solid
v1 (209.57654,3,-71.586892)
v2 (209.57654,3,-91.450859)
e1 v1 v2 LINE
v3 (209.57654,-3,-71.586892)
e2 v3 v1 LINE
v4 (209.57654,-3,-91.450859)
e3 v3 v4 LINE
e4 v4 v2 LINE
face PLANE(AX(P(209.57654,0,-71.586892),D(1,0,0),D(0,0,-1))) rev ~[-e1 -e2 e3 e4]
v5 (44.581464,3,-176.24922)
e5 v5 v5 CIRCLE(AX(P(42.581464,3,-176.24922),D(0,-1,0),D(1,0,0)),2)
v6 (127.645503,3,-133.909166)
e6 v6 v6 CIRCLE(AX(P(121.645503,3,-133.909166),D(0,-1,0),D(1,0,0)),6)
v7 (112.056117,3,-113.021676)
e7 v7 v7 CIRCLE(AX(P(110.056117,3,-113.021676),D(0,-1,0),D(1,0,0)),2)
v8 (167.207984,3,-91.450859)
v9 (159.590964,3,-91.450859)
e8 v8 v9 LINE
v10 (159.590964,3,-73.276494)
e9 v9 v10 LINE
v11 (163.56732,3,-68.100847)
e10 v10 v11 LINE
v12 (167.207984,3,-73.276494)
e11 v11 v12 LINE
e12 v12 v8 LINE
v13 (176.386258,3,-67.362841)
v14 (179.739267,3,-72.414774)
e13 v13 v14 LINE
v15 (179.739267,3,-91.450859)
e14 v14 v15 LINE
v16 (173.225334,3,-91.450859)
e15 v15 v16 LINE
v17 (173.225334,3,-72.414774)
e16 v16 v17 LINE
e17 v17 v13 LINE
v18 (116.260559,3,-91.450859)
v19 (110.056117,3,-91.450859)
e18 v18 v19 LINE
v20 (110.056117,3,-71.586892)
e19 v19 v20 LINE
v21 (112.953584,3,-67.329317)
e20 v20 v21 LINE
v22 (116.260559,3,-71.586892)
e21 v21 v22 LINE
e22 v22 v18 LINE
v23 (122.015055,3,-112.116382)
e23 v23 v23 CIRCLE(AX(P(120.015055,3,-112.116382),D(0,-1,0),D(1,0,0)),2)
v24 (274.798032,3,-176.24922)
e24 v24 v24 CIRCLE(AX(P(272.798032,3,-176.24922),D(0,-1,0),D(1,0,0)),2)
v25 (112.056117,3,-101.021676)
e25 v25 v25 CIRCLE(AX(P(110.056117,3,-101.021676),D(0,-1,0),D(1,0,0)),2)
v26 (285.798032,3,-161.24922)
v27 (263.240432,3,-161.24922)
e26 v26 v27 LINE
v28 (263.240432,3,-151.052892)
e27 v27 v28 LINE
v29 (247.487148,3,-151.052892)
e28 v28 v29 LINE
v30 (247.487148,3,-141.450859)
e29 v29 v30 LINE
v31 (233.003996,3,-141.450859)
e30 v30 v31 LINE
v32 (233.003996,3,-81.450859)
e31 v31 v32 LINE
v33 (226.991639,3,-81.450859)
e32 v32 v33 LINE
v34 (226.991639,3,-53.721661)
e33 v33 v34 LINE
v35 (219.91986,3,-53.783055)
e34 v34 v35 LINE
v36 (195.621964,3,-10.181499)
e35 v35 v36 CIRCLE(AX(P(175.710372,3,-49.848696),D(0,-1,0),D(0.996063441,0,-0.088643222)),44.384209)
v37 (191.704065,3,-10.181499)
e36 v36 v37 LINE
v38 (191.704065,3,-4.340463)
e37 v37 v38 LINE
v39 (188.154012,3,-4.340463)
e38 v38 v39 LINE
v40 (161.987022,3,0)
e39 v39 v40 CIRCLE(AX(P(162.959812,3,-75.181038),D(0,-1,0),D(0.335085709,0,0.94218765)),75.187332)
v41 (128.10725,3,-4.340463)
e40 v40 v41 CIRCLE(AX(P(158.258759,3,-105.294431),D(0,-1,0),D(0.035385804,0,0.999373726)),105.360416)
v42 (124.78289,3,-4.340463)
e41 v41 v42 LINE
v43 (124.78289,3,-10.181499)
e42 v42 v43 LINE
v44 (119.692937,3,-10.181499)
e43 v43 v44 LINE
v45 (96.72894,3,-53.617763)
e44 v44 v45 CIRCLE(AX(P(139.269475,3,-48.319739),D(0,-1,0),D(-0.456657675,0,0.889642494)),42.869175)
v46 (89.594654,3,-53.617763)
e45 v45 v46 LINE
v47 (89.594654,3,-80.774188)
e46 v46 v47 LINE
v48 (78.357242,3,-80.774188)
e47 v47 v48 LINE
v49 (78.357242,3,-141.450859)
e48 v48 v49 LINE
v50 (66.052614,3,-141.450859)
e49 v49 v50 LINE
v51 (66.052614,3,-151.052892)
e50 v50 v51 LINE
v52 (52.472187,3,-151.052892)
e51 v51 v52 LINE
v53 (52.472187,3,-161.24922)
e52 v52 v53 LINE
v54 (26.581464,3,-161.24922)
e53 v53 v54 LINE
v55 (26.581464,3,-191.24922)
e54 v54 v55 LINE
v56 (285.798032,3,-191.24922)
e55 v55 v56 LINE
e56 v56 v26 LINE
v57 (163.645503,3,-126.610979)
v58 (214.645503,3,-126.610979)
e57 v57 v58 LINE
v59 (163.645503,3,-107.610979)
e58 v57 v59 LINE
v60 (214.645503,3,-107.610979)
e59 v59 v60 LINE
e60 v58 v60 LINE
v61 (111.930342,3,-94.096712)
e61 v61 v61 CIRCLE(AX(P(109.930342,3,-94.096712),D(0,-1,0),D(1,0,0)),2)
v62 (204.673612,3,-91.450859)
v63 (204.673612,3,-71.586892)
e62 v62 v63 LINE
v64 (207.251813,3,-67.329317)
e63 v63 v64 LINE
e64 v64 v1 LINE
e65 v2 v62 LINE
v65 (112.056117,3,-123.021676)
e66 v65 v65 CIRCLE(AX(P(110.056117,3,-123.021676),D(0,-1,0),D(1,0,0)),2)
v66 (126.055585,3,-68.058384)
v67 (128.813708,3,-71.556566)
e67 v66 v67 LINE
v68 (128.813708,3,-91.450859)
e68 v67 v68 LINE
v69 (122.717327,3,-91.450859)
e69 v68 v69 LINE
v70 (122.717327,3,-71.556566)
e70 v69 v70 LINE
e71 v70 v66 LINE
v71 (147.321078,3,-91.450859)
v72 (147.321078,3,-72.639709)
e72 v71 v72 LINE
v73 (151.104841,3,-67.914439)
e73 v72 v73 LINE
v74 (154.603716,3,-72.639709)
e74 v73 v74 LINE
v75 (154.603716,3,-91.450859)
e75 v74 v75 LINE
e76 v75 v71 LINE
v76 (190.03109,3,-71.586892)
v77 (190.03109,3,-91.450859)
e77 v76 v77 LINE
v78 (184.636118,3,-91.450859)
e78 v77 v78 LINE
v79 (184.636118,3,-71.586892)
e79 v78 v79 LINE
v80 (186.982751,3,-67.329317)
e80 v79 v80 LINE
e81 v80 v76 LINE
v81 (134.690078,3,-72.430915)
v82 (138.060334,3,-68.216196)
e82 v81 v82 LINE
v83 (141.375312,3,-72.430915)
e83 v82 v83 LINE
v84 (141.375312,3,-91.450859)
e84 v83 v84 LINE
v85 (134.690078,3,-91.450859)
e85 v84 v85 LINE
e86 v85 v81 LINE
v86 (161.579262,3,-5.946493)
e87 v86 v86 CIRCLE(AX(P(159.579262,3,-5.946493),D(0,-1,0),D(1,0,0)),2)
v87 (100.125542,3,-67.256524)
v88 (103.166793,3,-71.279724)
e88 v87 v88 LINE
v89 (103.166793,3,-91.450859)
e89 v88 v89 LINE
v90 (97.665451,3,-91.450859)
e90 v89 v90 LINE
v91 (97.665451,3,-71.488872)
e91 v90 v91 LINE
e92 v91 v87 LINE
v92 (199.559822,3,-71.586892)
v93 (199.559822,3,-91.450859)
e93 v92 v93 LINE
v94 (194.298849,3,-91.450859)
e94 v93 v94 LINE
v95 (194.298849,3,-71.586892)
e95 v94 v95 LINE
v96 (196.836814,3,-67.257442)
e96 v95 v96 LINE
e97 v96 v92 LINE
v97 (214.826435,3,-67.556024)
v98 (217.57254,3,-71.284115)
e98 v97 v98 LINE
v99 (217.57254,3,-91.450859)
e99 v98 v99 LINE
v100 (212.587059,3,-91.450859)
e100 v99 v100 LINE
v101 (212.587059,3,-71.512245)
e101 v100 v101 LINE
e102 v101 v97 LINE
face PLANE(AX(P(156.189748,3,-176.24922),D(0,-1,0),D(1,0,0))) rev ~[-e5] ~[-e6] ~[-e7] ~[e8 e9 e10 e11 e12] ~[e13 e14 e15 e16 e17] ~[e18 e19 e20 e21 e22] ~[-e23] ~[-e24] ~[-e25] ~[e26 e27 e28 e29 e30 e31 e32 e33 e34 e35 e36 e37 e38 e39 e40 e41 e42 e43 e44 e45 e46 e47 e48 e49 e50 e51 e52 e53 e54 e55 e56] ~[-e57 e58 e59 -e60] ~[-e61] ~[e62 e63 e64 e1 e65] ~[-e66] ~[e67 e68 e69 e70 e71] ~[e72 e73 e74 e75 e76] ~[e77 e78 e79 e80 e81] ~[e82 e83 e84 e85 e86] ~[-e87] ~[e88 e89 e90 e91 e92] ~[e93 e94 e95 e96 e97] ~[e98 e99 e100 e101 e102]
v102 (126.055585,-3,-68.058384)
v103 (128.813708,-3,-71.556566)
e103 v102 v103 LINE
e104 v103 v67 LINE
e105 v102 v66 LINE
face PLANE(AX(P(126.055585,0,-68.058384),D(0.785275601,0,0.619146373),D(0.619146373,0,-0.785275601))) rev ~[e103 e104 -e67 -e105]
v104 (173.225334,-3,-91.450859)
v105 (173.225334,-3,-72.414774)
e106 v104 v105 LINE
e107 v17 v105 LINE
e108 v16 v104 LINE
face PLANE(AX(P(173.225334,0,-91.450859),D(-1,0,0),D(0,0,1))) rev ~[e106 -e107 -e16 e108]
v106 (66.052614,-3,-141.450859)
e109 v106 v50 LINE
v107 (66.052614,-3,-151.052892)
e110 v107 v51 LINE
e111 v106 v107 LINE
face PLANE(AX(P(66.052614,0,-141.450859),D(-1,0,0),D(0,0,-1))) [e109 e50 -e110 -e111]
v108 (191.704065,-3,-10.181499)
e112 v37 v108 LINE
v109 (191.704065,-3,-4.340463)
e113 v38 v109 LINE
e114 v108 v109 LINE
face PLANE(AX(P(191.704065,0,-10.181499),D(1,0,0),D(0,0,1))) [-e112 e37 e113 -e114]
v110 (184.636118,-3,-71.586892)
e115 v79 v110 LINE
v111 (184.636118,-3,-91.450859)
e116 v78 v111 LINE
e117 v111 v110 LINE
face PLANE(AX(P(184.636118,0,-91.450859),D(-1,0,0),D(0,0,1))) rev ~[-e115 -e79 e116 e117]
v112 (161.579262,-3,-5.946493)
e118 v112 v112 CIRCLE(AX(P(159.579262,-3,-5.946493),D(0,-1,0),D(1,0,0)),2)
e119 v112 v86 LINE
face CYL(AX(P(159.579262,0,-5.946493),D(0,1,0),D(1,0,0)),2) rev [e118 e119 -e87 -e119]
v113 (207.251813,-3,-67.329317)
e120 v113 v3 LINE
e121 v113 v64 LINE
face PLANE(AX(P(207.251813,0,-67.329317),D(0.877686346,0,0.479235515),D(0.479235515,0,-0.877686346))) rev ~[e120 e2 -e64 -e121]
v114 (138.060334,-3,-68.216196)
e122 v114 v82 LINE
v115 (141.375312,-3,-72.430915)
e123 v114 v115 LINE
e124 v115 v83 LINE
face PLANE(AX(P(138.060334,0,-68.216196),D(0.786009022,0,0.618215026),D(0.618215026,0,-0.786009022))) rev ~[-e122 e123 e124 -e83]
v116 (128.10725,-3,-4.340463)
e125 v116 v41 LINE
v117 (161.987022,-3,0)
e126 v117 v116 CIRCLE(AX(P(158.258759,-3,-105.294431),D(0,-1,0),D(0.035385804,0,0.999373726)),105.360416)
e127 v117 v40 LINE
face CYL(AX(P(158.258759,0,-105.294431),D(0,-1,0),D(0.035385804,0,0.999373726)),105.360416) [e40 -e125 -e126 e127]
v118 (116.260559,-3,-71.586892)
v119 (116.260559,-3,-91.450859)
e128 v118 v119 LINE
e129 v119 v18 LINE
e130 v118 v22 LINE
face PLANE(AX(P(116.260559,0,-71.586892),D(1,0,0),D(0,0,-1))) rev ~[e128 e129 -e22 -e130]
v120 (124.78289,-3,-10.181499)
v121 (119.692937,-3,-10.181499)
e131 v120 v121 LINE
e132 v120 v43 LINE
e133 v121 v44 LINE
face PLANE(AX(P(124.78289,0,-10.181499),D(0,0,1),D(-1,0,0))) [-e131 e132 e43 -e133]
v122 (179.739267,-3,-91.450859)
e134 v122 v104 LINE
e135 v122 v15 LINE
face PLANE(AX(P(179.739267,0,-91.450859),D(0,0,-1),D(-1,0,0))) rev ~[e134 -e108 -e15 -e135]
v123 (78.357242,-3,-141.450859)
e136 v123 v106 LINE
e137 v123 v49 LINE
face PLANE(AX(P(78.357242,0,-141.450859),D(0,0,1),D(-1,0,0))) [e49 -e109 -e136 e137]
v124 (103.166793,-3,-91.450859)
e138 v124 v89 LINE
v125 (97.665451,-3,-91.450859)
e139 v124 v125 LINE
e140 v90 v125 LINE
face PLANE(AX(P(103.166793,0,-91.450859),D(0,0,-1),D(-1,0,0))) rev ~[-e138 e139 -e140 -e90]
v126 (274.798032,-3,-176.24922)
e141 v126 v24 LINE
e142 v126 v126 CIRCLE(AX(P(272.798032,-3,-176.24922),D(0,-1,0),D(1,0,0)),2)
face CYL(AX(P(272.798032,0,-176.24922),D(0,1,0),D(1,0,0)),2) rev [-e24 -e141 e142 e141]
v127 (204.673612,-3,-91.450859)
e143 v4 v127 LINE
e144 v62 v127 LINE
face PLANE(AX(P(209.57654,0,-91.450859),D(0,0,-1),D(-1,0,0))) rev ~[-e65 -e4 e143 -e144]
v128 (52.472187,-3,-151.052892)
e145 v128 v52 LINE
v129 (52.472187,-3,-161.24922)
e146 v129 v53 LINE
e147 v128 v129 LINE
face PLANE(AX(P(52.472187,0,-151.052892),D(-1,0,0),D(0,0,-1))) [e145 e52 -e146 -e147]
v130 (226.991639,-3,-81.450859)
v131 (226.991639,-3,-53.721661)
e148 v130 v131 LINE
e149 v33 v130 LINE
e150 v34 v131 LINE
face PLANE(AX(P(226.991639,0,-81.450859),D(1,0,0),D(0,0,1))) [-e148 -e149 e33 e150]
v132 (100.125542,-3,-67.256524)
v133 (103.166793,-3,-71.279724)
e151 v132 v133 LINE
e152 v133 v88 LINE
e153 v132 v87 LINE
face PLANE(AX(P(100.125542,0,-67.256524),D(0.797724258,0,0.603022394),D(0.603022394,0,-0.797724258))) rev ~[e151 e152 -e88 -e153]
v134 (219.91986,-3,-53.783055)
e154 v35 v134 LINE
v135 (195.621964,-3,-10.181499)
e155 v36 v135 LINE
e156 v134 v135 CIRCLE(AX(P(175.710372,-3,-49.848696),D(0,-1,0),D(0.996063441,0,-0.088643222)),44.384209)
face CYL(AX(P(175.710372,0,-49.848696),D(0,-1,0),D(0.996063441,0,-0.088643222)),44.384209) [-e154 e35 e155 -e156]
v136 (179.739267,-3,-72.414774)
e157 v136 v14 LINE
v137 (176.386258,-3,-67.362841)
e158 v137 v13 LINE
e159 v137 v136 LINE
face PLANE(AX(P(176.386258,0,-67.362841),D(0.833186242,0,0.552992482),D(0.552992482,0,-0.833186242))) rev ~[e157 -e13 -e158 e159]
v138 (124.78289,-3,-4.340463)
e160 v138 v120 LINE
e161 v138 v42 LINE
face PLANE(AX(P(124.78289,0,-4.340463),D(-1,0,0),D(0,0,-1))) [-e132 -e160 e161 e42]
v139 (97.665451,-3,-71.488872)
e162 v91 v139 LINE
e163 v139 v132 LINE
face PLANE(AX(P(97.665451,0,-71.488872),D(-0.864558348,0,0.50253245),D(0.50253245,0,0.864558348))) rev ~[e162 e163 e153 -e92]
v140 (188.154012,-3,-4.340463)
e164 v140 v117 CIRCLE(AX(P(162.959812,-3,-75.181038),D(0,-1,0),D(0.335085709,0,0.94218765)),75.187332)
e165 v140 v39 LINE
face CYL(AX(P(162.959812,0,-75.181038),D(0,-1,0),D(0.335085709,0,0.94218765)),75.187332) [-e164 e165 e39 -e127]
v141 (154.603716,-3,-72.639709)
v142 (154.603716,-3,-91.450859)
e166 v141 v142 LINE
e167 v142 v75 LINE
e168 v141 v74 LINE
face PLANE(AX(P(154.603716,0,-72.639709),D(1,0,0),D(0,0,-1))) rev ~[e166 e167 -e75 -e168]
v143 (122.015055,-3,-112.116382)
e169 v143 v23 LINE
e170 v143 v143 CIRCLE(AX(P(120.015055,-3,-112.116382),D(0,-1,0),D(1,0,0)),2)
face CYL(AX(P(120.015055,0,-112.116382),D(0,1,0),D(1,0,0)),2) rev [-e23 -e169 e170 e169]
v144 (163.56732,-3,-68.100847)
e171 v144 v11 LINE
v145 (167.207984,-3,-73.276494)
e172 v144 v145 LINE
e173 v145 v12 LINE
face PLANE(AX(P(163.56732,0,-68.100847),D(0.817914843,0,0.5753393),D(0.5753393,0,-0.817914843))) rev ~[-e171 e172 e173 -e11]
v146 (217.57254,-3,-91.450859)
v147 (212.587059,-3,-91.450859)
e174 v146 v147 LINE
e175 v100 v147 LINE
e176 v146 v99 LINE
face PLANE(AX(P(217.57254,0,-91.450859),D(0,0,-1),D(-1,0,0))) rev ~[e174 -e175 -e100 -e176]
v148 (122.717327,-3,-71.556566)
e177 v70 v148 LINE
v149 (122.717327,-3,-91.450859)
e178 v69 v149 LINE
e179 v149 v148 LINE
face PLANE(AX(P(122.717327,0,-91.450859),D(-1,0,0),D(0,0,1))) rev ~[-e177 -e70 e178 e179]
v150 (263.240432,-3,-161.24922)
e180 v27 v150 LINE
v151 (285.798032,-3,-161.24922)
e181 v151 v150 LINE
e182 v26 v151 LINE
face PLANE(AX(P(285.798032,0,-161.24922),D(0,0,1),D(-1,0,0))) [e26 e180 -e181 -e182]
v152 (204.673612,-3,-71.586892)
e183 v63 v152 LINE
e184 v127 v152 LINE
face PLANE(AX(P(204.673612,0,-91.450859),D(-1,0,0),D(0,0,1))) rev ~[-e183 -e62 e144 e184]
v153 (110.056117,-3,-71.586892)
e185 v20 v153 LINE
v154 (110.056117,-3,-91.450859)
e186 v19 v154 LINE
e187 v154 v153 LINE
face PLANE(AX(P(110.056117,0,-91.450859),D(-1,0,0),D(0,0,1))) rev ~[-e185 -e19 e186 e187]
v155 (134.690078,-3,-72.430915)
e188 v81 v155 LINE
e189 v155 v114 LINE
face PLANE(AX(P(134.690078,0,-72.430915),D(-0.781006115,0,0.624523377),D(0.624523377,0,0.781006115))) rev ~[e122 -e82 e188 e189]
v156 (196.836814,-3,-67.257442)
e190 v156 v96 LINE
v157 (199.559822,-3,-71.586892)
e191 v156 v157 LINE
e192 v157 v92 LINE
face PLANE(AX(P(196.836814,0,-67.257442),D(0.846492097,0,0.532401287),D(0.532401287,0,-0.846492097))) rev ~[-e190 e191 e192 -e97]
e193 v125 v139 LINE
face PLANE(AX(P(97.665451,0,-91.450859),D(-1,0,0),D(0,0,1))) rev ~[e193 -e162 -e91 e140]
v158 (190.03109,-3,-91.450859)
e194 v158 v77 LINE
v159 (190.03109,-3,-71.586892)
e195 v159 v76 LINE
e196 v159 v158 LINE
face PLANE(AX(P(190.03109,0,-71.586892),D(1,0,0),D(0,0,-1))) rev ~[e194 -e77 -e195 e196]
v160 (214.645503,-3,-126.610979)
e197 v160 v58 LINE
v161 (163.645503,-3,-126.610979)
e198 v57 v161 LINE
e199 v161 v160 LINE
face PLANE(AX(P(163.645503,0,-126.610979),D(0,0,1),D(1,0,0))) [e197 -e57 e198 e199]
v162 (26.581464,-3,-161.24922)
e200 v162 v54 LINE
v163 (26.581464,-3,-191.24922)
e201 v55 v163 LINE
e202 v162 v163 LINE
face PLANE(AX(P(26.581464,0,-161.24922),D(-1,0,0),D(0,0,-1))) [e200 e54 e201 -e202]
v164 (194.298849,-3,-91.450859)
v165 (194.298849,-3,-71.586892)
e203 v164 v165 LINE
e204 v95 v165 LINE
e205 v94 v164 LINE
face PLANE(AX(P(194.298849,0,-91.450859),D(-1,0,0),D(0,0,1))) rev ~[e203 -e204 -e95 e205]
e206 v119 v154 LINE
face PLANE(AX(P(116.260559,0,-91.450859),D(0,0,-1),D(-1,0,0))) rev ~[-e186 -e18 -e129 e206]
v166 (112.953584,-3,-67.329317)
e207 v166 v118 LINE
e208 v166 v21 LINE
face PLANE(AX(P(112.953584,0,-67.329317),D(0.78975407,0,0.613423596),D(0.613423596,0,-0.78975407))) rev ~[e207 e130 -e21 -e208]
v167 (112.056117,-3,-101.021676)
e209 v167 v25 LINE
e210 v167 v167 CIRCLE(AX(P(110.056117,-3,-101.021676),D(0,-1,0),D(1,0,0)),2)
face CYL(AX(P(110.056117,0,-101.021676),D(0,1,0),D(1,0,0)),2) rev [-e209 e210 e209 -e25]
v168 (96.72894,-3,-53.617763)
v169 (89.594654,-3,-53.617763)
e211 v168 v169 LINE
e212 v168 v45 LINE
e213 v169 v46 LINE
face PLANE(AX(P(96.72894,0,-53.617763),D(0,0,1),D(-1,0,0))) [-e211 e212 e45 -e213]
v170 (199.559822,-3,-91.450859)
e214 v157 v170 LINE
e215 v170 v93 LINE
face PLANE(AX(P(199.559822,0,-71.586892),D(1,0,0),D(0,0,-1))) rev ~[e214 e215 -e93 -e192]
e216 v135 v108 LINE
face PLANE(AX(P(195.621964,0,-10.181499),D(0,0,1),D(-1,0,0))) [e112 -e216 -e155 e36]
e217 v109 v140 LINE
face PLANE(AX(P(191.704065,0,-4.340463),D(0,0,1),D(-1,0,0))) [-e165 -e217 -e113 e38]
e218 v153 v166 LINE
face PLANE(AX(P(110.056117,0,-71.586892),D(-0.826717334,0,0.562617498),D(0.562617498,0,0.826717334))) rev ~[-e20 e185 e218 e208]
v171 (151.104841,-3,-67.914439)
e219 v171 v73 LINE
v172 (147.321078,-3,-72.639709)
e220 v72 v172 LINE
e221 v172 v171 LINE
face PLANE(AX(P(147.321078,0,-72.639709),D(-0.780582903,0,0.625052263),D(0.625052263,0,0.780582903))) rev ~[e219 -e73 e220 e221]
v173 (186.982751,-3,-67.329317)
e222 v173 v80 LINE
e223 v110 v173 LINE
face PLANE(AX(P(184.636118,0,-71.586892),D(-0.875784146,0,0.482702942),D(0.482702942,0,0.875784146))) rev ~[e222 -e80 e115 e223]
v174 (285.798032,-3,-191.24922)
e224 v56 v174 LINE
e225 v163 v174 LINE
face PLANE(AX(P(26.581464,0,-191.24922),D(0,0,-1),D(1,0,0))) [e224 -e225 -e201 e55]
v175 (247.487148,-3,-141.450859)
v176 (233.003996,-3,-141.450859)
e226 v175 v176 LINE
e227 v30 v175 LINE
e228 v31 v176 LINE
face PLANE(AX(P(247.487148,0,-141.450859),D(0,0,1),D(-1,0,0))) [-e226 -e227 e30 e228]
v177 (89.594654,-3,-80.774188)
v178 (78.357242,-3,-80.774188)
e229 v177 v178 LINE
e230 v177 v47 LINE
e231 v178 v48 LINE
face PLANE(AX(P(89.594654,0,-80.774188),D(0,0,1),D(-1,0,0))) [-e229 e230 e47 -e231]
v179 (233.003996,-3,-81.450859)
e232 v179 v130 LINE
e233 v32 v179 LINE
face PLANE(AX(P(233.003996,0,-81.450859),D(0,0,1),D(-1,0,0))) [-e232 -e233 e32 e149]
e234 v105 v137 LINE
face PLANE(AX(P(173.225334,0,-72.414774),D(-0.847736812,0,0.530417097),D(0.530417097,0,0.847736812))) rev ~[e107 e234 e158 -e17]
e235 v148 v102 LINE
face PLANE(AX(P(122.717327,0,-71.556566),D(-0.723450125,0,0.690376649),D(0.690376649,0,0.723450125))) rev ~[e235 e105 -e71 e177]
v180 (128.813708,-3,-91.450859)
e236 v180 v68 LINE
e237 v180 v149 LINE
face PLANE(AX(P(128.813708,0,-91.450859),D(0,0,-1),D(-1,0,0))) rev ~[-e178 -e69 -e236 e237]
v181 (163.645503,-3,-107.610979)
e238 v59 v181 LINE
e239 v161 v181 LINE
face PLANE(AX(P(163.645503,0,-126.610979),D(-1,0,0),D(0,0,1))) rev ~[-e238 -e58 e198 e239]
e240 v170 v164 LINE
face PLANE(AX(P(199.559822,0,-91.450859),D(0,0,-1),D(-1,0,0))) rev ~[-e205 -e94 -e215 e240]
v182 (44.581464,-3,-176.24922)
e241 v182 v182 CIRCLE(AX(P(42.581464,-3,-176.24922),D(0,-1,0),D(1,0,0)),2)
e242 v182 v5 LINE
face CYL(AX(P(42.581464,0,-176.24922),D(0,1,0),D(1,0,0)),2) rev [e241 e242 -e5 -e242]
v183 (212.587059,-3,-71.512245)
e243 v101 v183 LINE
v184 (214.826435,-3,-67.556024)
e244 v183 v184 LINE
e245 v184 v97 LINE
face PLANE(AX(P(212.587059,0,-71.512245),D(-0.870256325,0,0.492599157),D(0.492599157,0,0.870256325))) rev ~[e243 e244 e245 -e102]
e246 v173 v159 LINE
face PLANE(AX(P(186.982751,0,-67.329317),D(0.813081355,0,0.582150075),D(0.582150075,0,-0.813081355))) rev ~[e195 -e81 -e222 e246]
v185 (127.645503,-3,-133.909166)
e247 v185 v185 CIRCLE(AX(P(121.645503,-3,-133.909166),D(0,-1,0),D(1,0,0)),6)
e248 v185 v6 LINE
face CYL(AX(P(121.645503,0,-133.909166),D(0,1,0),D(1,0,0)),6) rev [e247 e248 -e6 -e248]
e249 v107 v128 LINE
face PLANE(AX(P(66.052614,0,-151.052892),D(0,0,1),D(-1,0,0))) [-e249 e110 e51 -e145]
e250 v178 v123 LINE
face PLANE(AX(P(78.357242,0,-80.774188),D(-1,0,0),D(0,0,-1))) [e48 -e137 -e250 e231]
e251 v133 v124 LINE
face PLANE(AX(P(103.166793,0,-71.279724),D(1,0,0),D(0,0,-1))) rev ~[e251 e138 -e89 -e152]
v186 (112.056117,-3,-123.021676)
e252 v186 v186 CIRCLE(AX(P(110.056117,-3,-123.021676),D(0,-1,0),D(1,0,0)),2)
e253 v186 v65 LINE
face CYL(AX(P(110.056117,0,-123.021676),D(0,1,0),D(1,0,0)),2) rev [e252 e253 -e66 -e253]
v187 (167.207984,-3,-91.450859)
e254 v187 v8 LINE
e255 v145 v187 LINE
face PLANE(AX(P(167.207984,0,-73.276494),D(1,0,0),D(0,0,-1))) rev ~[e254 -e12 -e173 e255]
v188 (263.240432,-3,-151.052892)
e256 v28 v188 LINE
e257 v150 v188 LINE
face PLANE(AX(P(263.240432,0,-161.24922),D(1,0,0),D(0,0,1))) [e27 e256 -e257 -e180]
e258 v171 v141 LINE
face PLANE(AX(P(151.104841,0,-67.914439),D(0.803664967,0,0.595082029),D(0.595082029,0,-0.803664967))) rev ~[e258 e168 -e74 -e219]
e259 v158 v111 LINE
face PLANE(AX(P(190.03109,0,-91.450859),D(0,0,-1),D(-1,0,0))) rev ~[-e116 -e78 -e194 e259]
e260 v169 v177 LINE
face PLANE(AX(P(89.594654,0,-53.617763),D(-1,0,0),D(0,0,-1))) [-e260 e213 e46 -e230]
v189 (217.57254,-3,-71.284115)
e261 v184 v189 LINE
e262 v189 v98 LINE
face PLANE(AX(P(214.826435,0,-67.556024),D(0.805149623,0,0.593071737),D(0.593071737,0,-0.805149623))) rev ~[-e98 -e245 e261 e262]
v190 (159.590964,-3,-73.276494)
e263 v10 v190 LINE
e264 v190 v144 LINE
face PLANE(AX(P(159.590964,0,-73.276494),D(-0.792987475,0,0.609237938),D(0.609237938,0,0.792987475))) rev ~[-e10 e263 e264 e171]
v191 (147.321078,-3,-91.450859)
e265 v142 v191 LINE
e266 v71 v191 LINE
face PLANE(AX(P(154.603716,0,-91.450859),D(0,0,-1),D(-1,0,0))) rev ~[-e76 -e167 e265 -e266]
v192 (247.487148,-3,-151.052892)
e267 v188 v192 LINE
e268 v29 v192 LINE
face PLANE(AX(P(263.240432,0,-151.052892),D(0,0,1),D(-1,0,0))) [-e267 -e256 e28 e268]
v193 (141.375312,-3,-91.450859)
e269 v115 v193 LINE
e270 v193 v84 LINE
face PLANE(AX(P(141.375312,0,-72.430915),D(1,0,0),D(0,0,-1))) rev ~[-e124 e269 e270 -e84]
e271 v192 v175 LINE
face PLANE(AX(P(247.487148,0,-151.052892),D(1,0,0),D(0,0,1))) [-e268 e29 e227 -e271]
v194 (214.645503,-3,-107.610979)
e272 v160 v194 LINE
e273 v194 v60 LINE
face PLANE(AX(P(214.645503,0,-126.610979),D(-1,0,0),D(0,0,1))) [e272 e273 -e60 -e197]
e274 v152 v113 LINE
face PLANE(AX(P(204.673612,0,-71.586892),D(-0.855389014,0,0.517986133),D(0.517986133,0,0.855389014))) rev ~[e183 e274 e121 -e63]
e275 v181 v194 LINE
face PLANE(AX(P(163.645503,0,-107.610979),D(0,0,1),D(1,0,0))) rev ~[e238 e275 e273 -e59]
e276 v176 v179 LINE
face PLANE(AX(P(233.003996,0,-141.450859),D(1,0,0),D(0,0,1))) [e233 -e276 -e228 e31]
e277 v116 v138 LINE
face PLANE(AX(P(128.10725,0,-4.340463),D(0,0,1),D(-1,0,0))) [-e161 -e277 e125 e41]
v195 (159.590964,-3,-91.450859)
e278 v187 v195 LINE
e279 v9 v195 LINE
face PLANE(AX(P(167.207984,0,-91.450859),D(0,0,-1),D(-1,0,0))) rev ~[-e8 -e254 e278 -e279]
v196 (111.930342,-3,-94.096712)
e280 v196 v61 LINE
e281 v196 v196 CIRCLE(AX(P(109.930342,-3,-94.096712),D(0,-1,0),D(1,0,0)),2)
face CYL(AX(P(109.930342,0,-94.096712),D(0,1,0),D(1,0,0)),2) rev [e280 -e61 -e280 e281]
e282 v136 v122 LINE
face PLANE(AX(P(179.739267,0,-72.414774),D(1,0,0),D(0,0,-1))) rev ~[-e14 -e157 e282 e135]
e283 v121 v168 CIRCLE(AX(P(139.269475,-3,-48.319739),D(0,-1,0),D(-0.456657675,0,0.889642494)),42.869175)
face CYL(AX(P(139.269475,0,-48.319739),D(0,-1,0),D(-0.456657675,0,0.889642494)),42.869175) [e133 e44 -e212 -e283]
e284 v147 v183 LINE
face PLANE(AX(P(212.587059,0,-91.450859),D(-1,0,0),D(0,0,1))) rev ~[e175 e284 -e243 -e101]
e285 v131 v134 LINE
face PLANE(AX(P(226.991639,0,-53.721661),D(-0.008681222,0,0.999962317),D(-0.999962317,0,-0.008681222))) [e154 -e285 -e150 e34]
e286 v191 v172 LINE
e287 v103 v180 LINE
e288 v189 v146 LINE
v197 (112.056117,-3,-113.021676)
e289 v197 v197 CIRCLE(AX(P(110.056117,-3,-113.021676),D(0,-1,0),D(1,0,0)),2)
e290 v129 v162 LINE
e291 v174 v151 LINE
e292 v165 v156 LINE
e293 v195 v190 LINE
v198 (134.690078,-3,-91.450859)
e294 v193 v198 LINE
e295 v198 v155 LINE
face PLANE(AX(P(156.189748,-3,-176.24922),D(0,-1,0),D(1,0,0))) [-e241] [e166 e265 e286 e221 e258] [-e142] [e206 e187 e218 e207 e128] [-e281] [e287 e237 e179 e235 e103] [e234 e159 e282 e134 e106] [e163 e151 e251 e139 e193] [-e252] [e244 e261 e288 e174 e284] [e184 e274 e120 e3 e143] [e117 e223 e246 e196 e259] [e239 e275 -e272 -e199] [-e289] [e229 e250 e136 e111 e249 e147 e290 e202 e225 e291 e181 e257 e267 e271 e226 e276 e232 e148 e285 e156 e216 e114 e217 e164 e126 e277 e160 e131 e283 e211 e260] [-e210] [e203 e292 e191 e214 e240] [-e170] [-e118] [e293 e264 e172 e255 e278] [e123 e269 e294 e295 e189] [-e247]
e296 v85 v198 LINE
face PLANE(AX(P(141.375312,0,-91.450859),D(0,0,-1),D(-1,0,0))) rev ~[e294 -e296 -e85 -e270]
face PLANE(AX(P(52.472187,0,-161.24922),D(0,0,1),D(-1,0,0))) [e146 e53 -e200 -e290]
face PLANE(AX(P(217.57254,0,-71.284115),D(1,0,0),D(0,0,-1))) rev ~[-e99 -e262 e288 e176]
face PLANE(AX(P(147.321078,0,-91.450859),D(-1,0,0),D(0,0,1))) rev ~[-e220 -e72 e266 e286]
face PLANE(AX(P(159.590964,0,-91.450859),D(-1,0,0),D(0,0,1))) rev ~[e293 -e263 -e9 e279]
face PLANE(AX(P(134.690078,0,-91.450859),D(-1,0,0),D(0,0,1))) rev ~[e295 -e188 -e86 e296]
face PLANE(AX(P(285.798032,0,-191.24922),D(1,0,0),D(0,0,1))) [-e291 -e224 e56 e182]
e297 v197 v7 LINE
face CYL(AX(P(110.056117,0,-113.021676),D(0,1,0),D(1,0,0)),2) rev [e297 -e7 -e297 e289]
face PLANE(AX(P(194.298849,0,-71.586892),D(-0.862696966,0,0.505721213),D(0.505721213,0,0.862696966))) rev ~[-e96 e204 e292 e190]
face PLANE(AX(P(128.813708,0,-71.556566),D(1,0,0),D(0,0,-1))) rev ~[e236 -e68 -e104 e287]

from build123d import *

# Parameters (mm, degrees)
F0_R          = 2
F0_R_2        = 6
F0_W          = 51
F0_H          = 19
F1_DEPTH      = 3
F1_DEPTH_BACK = 3
F2_DEPTH      = 3


with BuildPart() as f1:
    # F0 (on Front) → F1 (new body, two sides)
    with BuildSketch(Plane.XZ) as f1_sk:
        Polygon((52.472187, -161.24922), (26.581464, -161.24922), (26.581464, -191.24922), (285.798032, -191.24922), (285.798032, -161.24922), (263.240432, -161.24922), align=None)
        with Locations((42.581464, -176.24922)):
            Circle(F0_R, mode=Mode.SUBTRACT)
        with Locations((272.798032, -176.24922)):
            Circle(F0_R, mode=Mode.SUBTRACT)
        Polygon((52.472187, -151.052892), (52.472187, -161.24922), (263.240432, -161.24922), (263.240432, -151.052892), (247.487148, -151.052892), (66.052614, -151.052892), align=None)
        Polygon((66.052614, -141.450859), (66.052614, -151.052892), (247.487148, -151.052892), (247.487148, -141.450859), (233.003996, -141.450859), (78.357242, -141.450859), align=None)
        Polygon((78.357242, -80.774188), (78.357242, -141.450859), (233.003996, -141.450859), (233.003996, -81.450859), (226.991639, -81.450859), (221.457498, -91.450859), (217.57254, -91.450859), (212.587059, -91.450859), (209.57654, -91.450859), (204.673612, -91.450859), (199.559822, -91.450859), (194.298849, -91.450859), (190.03109, -91.450859), (184.636118, -91.450859), (179.739267, -91.450859), (173.225334, -91.450859), (167.207984, -91.450859), (159.590964, -91.450859), (154.603716, -91.450859), (147.321078, -91.450859), (141.375312, -91.450859), (134.690078, -91.450859), (128.813708, -91.450859), (122.717327, -91.450859), (116.260559, -91.450859), (110.056117, -91.450859), (103.166793, -91.450859), (97.665451, -91.450859), (89.594654, -80.774188), align=None)
        with Locations((121.645503, -133.909166)):
            Circle(F0_R_2, mode=Mode.SUBTRACT)
        with Locations((110.056117, -123.021676)):
            Circle(F0_R, mode=Mode.SUBTRACT)
        with Locations((110.056117, -113.021676)):
            Circle(F0_R, mode=Mode.SUBTRACT)
        with Locations((120.015055, -112.116382)):
            Circle(F0_R, mode=Mode.SUBTRACT)
        with Locations((110.056117, -101.021676)):
            Circle(F0_R, mode=Mode.SUBTRACT)
        with Locations((189.145503, -117.110979)):
            Rectangle(F0_W, F0_H, mode=Mode.SUBTRACT)
        with Locations((109.930342, -94.096712)):
            Circle(F0_R, mode=Mode.SUBTRACT)
        Polygon((89.594654, -53.617763), (89.594654, -80.774188), (97.665451, -91.450859), (97.665451, -71.488872), (100.125542, -67.256524), (103.166793, -71.279724), (103.166793, -91.450859), (110.056117, -91.450859), (110.056117, -71.586892), (112.953584, -67.329317), (116.260559, -71.586892), (116.260559, -91.450859), (122.717327, -91.450859), (122.717327, -71.556566), (126.055585, -68.058384), (128.813708, -71.556566), (128.813708, -91.450859), (134.690078, -91.450859), (134.690078, -72.430915), (138.060334, -68.216196), (141.375312, -72.430915), (141.375312, -91.450859), (147.321078, -91.450859), (147.321078, -72.639709), (151.104841, -67.914439), (154.603716, -72.639709), (154.603716, -91.450859), (159.590964, -91.450859), (159.590964, -73.276494), (163.56732, -68.100847), (167.207984, -73.276494), (167.207984, -91.450859), (173.225334, -91.450859), (173.225334, -72.414774), (176.386258, -67.362841), (179.739267, -72.414774), (179.739267, -91.450859), (184.636118, -91.450859), (184.636118, -71.586892), (186.982751, -67.329317), (190.03109, -71.586892), (190.03109, -91.450859), (194.298849, -91.450859), (194.298849, -71.586892), (196.836814, -67.257442), (199.559822, -71.586892), (199.559822, -91.450859), (204.673612, -91.450859), (204.673612, -71.586892), (207.251813, -67.329317), (209.57654, -71.586892), (209.57654, -91.450859), (212.587059, -91.450859), (212.587059, -71.512245), (214.826435, -67.556024), (217.57254, -71.284115), (217.57254, -91.450859), (221.457498, -91.450859), (226.991639, -81.450859), (226.991639, -53.721661), (219.91986, -53.783055), (198.035091, -53.973049), (96.72894, -53.617763), align=None)
        with BuildLine():
            ThreePointArc((119.692937, -10.181499), (101.370795, -28.283366), (96.72894, -53.617763))
            Line((96.72894, -53.617763), (198.035091, -53.973049))
            Line((198.035091, -53.973049), (219.91986, -53.783055))
            ThreePointArc((219.91986, -53.783055), (214.480878, -28.243005), (195.621964, -10.181499))
            Line((195.621964, -10.181499), (191.704065, -10.181499))
            Line((191.704065, -10.181499), (191.704065, -4.340463))
            Line((191.704065, -4.340463), (188.154012, -4.340463))
            ThreePointArc((188.154012, -4.340463), (175.263432, -1.007217), (161.987022, 0))
            ThreePointArc((161.987022, 0), (144.870074, -0.788162), (128.10725, -4.340463))
            Line((128.10725, -4.340463), (124.78289, -4.340463))
            Line((124.78289, -4.340463), (124.78289, -10.181499))
            Line((124.78289, -10.181499), (119.692937, -10.181499))
        make_face()
        with Locations((159.579262, -5.946493)):
            Circle(F0_R, mode=Mode.SUBTRACT)
    extrude(amount=F1_DEPTH)
    extrude(f1_sk.sketch, amount=-F1_DEPTH_BACK)

    # F0 (on Front) → F2 (join)
    with BuildSketch(Plane.XZ):
        Polygon((52.472187, -161.24922), (26.581464, -161.24922), (26.581464, -191.24922), (285.798032, -191.24922), (285.798032, -161.24922), (263.240432, -161.24922), align=None)
        with Locations((42.581464, -176.24922)):
            Circle(F0_R, mode=Mode.SUBTRACT)
        with Locations((272.798032, -176.24922)):
            Circle(F0_R, mode=Mode.SUBTRACT)
        Polygon((52.472187, -151.052892), (52.472187, -161.24922), (263.240432, -161.24922), (263.240432, -151.052892), (247.487148, -151.052892), (66.052614, -151.052892), align=None)
        Polygon((66.052614, -141.450859), (66.052614, -151.052892), (247.487148, -151.052892), (247.487148, -141.450859), (233.003996, -141.450859), (78.357242, -141.450859), align=None)
        Polygon((78.357242, -80.774188), (78.357242, -141.450859), (233.003996, -141.450859), (233.003996, -81.450859), (226.991639, -81.450859), (221.457498, -91.450859), (217.57254, -91.450859), (212.587059, -91.450859), (209.57654, -91.450859), (204.673612, -91.450859), (199.559822, -91.450859), (194.298849, -91.450859), (190.03109, -91.450859), (184.636118, -91.450859), (179.739267, -91.450859), (173.225334, -91.450859), (167.207984, -91.450859), (159.590964, -91.450859), (154.603716, -91.450859), (147.321078, -91.450859), (141.375312, -91.450859), (134.690078, -91.450859), (128.813708, -91.450859), (122.717327, -91.450859), (116.260559, -91.450859), (110.056117, -91.450859), (103.166793, -91.450859), (97.665451, -91.450859), (89.594654, -80.774188), align=None)
        with Locations((121.645503, -133.909166)):
            Circle(F0_R_2, mode=Mode.SUBTRACT)
        with Locations((110.056117, -123.021676)):
            Circle(F0_R, mode=Mode.SUBTRACT)
        with Locations((110.056117, -113.021676)):
            Circle(F0_R, mode=Mode.SUBTRACT)
        with Locations((120.015055, -112.116382)):
            Circle(F0_R, mode=Mode.SUBTRACT)
        with Locations((110.056117, -101.021676)):
            Circle(F0_R, mode=Mode.SUBTRACT)
        with Locations((189.145503, -117.110979)):
            Rectangle(F0_W, F0_H, mode=Mode.SUBTRACT)
        with Locations((109.930342, -94.096712)):
            Circle(F0_R, mode=Mode.SUBTRACT)
        Polygon((89.594654, -53.617763), (89.594654, -80.774188), (97.665451, -91.450859), (97.665451, -71.488872), (100.125542, -67.256524), (103.166793, -71.279724), (103.166793, -91.450859), (110.056117, -91.450859), (110.056117, -71.586892), (112.953584, -67.329317), (116.260559, -71.586892), (116.260559, -91.450859), (122.717327, -91.450859), (122.717327, -71.556566), (126.055585, -68.058384), (128.813708, -71.556566), (128.813708, -91.450859), (134.690078, -91.450859), (134.690078, -72.430915), (138.060334, -68.216196), (141.375312, -72.430915), (141.375312, -91.450859), (147.321078, -91.450859), (147.321078, -72.639709), (151.104841, -67.914439), (154.603716, -72.639709), (154.603716, -91.450859), (159.590964, -91.450859), (159.590964, -73.276494), (163.56732, -68.100847), (167.207984, -73.276494), (167.207984, -91.450859), (173.225334, -91.450859), (173.225334, -72.414774), (176.386258, -67.362841), (179.739267, -72.414774), (179.739267, -91.450859), (184.636118, -91.450859), (184.636118, -71.586892), (186.982751, -67.329317), (190.03109, -71.586892), (190.03109, -91.450859), (194.298849, -91.450859), (194.298849, -71.586892), (196.836814, -67.257442), (199.559822, -71.586892), (199.559822, -91.450859), (204.673612, -91.450859), (204.673612, -71.586892), (207.251813, -67.329317), (209.57654, -71.586892), (209.57654, -91.450859), (212.587059, -91.450859), (212.587059, -71.512245), (214.826435, -67.556024), (217.57254, -71.284115), (217.57254, -91.450859), (221.457498, -91.450859), (226.991639, -81.450859), (226.991639, -53.721661), (219.91986, -53.783055), (198.035091, -53.973049), (96.72894, -53.617763), align=None)
        with BuildLine():
            ThreePointArc((119.692937, -10.181499), (101.370795, -28.283366), (96.72894, -53.617763))
            Line((96.72894, -53.617763), (198.035091, -53.973049))
            Line((198.035091, -53.973049), (219.91986, -53.783055))
            ThreePointArc((219.91986, -53.783055), (214.480878, -28.243005), (195.621964, -10.181499))
            Line((195.621964, -10.181499), (191.704065, -10.181499))
            Line((191.704065, -10.181499), (191.704065, -4.340463))
            Line((191.704065, -4.340463), (188.154012, -4.340463))
            ThreePointArc((188.154012, -4.340463), (175.263432, -1.007217), (161.987022, 0))
            ThreePointArc((161.987022, 0), (144.870074, -0.788162), (128.10725, -4.340463))
            Line((128.10725, -4.340463), (124.78289, -4.340463))
            Line((124.78289, -4.340463), (124.78289, -10.181499))
            Line((124.78289, -10.181499), (119.692937, -10.181499))
        make_face()
        with Locations((159.579262, -5.946493)):
            Circle(F0_R, mode=Mode.SUBTRACT)
    extrude(amount=F2_DEPTH)


solid = f1.part
